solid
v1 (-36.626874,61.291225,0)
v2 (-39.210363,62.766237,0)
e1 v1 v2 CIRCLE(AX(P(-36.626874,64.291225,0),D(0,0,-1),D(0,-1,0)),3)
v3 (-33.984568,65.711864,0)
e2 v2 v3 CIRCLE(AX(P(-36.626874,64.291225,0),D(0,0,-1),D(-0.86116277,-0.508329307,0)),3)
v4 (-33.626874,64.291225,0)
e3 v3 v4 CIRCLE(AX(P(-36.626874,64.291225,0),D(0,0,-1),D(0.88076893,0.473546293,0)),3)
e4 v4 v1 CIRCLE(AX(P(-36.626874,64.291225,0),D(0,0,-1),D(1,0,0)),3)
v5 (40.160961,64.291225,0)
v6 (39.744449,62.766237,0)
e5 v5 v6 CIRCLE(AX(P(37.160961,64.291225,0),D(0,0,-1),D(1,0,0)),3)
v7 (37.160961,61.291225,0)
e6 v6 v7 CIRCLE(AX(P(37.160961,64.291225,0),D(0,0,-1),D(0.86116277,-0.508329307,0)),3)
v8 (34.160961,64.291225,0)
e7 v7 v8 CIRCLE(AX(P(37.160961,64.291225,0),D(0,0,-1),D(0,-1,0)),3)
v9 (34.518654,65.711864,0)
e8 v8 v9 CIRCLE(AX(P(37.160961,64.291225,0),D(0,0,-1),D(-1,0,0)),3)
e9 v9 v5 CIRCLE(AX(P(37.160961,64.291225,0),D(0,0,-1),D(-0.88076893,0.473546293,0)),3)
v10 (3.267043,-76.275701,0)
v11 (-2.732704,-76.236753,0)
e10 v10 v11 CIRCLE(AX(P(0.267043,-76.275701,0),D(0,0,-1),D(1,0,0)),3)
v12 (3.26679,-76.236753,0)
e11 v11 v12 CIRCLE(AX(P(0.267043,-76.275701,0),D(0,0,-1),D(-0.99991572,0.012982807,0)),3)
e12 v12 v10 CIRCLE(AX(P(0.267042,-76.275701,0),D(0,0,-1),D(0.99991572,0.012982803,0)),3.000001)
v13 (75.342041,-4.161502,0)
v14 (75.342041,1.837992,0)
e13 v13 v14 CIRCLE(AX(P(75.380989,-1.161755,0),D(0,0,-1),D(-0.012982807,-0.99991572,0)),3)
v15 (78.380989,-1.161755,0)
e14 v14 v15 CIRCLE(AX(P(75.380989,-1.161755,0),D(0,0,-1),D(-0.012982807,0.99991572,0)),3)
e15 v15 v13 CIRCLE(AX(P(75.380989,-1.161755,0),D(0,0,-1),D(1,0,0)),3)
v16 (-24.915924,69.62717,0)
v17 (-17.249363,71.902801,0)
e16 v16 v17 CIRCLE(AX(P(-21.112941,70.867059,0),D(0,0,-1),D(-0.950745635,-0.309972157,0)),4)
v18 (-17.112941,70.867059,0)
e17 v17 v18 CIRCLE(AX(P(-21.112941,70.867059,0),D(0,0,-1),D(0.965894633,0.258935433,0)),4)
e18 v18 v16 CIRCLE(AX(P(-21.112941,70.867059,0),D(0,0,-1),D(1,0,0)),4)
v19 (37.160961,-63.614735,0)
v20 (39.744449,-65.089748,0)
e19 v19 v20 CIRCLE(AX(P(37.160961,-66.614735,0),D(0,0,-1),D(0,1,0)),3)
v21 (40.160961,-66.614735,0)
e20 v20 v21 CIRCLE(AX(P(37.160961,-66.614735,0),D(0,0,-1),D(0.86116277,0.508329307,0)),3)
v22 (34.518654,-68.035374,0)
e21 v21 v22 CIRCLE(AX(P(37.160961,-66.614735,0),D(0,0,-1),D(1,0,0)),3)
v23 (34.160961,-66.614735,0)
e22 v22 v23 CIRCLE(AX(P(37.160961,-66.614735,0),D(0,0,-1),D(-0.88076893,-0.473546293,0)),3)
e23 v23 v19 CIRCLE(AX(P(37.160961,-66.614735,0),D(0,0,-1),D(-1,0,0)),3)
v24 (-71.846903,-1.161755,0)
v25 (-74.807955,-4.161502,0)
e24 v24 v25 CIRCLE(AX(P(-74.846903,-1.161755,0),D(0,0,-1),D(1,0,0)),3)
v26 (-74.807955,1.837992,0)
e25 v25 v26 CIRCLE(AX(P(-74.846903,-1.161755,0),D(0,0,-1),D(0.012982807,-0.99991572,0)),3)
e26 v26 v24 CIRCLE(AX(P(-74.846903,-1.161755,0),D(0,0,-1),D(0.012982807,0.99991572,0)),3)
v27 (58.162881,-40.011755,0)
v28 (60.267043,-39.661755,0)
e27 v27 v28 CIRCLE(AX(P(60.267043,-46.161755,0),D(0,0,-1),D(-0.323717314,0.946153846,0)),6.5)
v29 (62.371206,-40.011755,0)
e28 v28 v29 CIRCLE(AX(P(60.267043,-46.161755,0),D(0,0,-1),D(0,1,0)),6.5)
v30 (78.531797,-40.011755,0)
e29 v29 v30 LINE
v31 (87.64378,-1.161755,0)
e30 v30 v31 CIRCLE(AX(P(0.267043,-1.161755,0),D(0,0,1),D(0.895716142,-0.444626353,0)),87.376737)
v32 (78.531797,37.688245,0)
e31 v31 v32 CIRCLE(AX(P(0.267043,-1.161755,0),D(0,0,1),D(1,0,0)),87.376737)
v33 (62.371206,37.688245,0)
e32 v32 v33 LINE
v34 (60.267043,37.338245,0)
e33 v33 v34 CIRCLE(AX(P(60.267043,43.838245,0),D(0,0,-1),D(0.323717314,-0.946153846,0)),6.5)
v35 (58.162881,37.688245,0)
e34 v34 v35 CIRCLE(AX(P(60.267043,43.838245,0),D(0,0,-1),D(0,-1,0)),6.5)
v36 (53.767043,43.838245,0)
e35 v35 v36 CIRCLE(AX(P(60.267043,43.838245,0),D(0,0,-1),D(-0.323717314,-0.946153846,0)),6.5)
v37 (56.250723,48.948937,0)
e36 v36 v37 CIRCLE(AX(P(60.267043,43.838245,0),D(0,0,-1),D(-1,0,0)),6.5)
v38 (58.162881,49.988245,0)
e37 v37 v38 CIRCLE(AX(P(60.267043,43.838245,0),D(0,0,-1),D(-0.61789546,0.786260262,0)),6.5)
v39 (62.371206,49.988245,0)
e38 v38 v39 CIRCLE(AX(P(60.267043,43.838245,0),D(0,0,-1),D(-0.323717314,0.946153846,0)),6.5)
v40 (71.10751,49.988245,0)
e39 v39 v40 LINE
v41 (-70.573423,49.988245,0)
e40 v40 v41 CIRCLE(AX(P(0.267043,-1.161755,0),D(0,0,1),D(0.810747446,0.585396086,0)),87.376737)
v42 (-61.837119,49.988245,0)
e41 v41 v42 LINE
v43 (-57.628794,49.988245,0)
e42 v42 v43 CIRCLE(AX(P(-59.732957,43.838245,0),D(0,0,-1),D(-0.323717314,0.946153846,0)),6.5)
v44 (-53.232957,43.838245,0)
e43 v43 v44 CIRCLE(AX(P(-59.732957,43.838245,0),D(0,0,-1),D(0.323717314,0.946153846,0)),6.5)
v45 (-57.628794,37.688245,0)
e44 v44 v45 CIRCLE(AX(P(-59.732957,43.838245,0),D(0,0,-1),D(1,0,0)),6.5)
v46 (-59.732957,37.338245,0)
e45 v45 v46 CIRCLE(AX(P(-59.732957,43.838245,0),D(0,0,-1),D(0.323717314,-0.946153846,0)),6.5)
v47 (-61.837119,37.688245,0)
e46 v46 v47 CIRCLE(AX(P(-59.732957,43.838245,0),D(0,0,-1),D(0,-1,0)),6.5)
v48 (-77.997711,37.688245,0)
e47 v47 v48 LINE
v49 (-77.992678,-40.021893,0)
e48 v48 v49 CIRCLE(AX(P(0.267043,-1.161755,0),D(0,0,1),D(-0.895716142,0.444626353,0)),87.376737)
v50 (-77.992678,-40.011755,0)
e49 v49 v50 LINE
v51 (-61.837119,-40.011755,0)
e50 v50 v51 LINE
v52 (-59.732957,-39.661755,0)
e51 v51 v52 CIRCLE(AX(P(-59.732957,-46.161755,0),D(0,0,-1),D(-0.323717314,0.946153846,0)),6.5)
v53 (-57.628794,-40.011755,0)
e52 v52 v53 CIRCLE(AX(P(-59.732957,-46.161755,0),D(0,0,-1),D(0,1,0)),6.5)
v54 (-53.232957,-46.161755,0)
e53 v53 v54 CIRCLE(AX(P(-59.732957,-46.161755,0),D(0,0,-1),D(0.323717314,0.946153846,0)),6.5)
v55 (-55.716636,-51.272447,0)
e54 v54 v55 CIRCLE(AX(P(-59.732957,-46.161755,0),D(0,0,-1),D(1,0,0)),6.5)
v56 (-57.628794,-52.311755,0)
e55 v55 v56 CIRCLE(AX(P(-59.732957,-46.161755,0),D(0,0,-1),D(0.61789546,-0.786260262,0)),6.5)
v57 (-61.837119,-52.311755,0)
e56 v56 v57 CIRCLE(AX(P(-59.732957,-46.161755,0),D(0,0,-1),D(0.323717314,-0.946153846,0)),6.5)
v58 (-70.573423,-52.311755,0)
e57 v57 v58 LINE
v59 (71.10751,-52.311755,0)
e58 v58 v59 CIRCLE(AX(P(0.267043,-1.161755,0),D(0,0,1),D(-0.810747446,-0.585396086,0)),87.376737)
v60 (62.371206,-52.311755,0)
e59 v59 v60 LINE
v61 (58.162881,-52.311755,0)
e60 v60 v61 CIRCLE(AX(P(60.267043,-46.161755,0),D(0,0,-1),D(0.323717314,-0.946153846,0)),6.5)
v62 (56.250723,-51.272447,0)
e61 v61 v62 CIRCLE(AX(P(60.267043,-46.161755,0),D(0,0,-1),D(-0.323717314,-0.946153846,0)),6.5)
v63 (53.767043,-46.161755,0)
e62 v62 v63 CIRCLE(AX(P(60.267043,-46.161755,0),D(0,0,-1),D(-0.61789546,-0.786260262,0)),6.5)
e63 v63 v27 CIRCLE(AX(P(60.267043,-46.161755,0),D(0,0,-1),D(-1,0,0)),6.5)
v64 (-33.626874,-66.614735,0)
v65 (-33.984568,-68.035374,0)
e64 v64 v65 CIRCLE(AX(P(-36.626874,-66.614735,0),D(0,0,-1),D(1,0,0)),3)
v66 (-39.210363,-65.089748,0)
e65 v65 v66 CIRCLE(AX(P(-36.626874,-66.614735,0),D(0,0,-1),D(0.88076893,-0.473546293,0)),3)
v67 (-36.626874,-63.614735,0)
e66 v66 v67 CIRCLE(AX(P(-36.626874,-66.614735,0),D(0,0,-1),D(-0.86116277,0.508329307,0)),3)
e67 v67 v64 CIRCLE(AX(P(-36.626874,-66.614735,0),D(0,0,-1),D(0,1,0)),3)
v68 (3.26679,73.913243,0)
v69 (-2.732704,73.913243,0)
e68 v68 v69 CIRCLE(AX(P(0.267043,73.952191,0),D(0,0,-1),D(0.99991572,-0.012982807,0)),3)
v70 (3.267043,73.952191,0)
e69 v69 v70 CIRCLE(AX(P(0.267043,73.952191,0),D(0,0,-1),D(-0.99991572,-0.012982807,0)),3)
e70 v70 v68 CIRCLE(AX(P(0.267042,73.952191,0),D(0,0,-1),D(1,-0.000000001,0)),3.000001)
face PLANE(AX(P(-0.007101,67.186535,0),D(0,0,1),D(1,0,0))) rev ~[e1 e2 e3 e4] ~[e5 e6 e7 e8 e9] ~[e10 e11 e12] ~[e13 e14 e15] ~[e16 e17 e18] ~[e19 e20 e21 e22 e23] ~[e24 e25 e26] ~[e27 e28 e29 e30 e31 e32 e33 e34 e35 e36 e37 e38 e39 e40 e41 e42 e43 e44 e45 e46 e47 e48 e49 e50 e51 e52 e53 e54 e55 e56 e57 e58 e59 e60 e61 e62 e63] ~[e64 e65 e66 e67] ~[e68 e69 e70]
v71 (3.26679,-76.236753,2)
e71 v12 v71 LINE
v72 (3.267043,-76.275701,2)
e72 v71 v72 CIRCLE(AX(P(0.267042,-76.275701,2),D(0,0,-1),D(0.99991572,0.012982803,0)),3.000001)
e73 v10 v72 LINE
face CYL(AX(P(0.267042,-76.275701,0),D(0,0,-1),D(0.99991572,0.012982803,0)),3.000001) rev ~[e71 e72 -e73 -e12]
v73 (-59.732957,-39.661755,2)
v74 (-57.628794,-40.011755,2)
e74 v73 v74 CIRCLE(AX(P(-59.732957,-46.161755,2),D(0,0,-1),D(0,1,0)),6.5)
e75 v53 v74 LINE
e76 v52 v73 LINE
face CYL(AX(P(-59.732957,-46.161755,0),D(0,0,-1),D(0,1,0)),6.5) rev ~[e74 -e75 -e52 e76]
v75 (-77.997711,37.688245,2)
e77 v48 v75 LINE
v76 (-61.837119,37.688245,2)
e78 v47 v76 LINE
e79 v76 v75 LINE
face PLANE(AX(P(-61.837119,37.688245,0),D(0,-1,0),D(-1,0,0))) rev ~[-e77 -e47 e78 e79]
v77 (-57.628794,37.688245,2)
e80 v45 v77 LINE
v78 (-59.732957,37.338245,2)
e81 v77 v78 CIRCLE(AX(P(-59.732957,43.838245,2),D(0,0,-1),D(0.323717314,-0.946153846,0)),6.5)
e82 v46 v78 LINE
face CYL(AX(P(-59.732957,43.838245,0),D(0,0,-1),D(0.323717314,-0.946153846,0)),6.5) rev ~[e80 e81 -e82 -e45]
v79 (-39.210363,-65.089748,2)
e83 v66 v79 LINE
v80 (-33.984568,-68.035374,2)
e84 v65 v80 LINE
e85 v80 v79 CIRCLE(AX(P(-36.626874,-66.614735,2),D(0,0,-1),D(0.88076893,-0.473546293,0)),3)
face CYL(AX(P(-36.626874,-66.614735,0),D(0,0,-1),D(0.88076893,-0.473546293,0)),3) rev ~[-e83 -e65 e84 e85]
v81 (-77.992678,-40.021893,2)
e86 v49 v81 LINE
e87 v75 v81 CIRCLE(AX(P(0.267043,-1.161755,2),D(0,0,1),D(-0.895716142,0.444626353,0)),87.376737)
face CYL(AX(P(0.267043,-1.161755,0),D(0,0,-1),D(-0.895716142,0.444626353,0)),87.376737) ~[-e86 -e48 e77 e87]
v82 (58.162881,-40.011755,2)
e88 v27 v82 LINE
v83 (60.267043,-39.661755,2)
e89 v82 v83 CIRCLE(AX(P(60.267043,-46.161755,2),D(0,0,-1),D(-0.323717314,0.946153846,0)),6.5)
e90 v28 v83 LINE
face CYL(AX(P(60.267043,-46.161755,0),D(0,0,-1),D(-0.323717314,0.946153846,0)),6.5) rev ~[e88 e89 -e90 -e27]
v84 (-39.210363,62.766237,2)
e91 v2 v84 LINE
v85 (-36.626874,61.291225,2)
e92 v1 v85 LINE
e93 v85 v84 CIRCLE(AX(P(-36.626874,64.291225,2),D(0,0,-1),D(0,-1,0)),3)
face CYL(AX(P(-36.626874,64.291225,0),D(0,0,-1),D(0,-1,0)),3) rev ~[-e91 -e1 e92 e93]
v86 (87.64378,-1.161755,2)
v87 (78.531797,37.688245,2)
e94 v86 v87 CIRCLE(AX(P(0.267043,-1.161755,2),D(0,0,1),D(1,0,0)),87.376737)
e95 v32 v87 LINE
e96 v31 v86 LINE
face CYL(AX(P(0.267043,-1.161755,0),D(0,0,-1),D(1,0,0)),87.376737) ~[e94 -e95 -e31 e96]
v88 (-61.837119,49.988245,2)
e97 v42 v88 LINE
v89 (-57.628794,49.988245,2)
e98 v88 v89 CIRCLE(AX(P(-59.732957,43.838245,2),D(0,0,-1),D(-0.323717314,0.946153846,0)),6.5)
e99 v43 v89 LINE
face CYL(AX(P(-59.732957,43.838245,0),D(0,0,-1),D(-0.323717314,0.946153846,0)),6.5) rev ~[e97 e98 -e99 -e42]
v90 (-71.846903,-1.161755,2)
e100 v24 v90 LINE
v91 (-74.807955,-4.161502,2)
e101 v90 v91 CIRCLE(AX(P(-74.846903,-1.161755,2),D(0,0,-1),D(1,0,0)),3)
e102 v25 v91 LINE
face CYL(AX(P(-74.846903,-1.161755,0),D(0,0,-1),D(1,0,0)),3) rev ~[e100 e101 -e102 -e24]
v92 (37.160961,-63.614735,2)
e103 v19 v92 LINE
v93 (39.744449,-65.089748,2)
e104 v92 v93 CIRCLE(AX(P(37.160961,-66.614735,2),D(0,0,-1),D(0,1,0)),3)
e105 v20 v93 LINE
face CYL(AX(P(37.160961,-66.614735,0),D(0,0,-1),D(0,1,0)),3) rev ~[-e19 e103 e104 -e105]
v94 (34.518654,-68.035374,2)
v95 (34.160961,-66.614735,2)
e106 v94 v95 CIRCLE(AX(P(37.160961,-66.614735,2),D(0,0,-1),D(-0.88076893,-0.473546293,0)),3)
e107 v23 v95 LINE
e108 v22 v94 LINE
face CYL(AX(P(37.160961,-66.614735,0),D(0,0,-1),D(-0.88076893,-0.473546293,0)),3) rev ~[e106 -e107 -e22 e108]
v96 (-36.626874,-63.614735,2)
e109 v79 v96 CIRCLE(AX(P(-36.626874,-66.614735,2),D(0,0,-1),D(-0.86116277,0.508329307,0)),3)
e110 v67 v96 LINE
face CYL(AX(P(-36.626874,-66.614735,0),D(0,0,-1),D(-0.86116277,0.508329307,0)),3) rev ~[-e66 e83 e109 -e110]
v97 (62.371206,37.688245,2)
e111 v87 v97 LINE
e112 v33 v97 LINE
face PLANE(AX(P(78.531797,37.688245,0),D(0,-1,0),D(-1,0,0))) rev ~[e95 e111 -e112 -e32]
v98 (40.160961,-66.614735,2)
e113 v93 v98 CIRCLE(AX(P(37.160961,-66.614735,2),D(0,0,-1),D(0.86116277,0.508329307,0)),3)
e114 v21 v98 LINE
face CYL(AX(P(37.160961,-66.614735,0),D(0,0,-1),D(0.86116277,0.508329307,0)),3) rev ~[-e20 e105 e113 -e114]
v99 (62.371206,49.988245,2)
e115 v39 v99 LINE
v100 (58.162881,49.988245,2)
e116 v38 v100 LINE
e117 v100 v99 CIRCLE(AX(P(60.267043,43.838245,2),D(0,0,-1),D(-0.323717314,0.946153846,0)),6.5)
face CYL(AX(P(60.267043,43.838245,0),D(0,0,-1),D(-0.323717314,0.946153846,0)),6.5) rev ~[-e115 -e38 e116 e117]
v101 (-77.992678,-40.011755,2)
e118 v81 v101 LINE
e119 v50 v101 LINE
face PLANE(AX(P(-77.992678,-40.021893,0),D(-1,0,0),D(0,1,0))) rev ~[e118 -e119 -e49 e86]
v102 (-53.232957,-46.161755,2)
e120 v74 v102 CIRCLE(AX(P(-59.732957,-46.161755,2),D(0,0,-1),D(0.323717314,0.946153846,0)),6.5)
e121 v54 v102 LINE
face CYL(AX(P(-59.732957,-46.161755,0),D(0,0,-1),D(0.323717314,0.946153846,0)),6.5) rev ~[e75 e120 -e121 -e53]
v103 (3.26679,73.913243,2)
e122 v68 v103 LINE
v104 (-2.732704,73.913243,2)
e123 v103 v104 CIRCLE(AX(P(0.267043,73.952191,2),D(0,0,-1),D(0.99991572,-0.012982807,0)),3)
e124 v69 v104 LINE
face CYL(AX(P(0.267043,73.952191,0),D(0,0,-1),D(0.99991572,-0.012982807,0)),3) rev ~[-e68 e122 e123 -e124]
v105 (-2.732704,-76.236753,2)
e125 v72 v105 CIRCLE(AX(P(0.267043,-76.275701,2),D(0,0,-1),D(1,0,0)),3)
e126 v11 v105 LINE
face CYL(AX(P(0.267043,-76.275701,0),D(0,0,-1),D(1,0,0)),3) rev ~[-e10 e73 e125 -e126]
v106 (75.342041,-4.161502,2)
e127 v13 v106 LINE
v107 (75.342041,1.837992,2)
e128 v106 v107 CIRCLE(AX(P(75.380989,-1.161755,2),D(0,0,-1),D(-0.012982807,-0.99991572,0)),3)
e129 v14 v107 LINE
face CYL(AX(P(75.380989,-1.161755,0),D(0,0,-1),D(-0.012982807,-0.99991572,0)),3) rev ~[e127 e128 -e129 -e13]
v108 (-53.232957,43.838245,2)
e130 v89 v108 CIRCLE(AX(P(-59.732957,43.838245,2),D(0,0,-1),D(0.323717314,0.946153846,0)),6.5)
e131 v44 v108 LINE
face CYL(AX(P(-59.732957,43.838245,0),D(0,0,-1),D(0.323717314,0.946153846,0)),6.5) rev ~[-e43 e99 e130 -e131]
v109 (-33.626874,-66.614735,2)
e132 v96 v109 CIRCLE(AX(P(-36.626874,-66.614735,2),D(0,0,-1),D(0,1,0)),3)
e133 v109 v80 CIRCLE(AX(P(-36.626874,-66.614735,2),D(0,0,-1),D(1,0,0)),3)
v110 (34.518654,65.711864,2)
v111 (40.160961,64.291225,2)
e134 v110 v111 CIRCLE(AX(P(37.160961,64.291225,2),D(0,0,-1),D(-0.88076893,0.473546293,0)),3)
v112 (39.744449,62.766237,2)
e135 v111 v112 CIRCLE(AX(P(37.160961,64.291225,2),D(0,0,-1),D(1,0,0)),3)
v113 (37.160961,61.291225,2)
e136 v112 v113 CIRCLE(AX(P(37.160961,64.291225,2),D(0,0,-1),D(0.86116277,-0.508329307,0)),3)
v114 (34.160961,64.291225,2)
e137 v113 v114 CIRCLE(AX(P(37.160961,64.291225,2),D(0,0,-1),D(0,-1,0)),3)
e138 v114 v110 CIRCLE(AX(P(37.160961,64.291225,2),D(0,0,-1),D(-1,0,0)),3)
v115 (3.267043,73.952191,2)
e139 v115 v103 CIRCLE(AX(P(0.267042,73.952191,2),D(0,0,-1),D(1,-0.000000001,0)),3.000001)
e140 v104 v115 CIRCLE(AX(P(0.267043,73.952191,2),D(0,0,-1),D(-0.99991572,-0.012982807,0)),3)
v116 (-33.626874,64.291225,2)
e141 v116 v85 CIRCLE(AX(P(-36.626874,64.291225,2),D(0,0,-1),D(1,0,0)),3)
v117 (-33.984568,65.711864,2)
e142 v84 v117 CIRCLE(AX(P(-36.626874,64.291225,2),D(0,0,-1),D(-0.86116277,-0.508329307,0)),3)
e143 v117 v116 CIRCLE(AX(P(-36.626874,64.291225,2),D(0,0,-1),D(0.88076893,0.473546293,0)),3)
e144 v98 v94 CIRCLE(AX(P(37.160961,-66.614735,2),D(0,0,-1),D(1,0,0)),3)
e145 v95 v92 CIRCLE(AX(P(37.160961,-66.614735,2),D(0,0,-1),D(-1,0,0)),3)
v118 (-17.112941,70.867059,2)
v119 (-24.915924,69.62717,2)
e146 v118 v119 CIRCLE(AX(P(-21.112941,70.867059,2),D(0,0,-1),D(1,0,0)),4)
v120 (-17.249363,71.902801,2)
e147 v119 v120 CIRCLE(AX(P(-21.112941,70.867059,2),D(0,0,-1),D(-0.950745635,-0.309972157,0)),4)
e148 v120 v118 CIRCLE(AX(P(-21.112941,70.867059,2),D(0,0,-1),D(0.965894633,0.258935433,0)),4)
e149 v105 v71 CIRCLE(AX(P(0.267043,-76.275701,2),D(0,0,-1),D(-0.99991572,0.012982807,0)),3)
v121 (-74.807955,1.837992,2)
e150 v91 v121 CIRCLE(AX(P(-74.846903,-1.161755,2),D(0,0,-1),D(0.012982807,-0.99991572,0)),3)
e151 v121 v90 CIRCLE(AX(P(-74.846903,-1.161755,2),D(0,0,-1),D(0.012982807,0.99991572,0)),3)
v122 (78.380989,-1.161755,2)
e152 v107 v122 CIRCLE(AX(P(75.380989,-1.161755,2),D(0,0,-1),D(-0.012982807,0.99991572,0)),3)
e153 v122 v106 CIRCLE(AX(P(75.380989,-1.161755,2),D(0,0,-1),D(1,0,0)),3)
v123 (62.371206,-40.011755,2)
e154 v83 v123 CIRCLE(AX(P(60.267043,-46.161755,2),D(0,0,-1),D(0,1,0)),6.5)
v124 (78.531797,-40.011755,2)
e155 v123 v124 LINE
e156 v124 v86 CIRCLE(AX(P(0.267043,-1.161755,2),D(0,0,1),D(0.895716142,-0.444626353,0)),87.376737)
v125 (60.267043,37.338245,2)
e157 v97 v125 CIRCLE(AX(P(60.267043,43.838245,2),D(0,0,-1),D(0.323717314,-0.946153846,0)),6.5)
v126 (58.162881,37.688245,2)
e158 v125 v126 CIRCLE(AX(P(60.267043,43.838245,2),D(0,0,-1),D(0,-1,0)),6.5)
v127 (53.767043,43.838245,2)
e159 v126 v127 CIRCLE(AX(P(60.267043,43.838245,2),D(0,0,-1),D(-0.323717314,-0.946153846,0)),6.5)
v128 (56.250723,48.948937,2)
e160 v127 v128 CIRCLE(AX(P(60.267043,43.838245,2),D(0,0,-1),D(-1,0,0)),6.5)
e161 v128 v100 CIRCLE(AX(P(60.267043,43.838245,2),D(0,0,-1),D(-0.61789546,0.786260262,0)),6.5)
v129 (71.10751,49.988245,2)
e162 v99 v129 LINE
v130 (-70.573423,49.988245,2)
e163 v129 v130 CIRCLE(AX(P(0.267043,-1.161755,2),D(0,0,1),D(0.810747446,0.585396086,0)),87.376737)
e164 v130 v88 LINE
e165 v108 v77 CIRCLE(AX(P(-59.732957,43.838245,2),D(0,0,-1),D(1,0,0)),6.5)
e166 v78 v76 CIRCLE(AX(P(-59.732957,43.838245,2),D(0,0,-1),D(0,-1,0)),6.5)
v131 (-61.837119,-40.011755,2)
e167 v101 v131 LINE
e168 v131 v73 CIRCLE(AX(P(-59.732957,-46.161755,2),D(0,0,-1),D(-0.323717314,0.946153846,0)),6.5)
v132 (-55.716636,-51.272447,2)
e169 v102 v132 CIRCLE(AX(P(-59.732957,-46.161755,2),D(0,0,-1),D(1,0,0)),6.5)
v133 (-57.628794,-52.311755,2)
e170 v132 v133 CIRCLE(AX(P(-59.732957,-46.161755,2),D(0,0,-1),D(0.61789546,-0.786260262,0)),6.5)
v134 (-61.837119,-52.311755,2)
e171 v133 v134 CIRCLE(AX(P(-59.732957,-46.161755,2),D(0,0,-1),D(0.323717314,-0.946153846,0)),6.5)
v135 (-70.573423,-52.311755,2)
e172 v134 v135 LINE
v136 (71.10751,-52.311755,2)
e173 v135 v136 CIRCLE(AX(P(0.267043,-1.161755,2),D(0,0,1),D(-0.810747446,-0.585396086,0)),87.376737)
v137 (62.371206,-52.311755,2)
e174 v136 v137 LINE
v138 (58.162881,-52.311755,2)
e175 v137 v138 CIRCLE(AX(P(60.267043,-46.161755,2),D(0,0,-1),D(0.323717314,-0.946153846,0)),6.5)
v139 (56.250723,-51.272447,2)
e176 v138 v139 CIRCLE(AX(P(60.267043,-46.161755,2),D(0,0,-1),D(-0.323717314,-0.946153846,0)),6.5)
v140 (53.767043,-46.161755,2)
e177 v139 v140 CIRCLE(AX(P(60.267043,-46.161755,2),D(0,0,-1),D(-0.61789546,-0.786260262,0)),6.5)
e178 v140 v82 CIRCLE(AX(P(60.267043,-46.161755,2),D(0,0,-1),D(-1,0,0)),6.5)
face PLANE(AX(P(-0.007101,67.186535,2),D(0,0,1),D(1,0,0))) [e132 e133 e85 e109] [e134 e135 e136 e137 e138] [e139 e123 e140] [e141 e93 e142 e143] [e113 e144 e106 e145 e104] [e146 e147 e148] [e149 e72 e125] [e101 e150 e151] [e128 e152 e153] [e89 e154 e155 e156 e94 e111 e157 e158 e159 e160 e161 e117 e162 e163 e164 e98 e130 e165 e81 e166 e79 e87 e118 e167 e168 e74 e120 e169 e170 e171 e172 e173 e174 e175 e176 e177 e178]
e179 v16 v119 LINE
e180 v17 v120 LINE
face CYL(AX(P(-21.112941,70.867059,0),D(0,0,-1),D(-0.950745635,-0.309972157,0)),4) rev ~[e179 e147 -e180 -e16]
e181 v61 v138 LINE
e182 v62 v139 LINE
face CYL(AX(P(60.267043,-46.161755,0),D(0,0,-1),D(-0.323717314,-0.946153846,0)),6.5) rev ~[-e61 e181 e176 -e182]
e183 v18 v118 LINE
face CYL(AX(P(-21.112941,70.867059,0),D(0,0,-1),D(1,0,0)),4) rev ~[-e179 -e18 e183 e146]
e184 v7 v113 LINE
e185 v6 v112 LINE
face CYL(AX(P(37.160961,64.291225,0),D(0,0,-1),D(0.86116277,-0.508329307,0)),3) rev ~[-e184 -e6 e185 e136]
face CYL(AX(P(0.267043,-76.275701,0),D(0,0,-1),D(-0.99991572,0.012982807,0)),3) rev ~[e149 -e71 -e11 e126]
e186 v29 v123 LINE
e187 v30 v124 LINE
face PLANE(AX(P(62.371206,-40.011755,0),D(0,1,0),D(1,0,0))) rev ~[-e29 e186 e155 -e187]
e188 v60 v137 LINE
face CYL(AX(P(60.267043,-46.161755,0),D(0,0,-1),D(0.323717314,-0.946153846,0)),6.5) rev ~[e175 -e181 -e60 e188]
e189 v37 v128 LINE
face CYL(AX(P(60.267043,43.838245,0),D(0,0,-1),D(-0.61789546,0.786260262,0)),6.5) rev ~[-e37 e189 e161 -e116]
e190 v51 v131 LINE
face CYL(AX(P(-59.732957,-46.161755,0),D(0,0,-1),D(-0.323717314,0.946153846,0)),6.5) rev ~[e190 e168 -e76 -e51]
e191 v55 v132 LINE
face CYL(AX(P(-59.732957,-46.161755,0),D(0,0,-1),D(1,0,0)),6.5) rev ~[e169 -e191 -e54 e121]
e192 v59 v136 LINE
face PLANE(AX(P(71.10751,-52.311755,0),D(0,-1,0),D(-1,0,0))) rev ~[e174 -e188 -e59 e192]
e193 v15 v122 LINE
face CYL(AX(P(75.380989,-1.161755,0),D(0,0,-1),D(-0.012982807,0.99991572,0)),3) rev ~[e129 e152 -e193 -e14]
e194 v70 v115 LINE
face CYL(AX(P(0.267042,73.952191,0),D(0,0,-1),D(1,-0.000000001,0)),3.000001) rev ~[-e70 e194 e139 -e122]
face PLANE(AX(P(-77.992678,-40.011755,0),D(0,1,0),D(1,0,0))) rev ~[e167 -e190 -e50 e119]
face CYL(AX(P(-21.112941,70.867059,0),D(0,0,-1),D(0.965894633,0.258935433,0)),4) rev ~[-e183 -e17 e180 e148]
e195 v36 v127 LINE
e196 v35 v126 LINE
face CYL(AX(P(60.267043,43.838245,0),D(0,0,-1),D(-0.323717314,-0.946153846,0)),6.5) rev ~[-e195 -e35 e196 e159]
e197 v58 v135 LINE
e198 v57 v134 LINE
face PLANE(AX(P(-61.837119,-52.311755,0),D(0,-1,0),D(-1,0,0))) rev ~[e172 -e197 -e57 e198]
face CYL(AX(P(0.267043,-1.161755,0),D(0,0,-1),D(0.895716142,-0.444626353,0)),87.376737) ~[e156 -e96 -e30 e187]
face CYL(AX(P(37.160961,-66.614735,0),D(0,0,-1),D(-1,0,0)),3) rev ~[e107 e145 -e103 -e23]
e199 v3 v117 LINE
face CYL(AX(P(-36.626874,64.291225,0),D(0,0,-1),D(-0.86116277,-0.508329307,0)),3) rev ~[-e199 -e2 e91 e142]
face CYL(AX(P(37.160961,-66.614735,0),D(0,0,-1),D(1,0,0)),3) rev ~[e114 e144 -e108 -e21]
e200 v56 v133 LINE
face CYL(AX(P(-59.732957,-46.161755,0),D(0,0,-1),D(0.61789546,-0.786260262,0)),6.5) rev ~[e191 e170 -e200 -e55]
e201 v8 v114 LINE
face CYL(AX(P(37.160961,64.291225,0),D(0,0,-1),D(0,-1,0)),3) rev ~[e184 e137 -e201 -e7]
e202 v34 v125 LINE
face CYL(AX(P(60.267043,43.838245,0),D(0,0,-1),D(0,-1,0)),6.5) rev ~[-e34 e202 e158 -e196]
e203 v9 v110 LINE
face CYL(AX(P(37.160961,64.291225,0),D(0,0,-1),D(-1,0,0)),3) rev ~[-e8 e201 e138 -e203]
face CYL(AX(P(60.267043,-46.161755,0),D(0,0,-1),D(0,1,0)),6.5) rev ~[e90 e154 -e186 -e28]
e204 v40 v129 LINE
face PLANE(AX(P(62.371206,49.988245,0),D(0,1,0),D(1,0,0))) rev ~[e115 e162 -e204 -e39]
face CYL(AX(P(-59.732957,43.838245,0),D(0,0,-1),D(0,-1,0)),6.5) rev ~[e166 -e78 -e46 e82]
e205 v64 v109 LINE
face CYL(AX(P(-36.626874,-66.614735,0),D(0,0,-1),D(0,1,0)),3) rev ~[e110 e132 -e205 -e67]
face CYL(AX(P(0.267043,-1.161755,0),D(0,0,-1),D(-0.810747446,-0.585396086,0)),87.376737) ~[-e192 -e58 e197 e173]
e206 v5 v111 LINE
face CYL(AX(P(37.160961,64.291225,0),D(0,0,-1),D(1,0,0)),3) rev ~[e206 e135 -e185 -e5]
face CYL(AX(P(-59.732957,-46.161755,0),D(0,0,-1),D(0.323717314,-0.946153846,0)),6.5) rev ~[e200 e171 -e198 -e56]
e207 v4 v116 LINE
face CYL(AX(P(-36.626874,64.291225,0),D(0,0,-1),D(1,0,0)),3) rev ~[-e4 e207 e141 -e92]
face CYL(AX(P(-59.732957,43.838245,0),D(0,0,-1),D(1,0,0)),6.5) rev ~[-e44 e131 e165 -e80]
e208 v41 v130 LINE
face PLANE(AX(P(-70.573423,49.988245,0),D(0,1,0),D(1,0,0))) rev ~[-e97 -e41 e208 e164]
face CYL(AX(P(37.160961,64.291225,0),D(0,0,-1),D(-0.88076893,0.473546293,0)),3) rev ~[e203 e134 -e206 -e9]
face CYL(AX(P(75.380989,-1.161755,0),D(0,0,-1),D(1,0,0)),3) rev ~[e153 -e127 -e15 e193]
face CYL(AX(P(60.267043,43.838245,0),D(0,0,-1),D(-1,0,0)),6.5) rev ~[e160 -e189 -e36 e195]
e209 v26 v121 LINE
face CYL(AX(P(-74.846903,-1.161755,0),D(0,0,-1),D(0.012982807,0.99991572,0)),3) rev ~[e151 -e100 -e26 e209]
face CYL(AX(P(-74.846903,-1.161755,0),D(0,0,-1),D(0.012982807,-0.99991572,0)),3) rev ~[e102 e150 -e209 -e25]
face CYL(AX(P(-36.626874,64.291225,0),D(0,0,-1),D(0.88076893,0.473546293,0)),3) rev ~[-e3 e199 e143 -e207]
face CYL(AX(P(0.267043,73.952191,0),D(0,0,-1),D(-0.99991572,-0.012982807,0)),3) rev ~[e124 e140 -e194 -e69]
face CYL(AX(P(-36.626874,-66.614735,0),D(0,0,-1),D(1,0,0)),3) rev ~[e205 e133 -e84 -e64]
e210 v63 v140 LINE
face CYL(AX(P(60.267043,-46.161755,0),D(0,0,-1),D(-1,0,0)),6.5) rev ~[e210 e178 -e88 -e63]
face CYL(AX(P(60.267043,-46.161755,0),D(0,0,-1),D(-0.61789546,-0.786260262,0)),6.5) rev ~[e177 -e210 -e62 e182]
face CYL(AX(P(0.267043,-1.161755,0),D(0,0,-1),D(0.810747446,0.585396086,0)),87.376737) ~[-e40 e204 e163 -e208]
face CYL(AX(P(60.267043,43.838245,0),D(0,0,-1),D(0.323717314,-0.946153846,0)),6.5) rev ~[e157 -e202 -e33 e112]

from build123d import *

# Parameters (mm, degrees)
F0_W     = 73.7878350085
F0_H     = 90
F1_DEPTH = 2


with BuildPart() as f1:
    # F0 (on Top) → F1 (new body)
    with BuildSketch(Plane.XY):
        with BuildLine():
            ThreePointArc((39.7444489138, 62.7662374325), (48.4949826486, 56.4517818988), (56.25072261, 48.9489366399))
            ThreePointArc((56.25072261, 48.9489366399), (57.1629943627, 49.5491889391), (58.1628805597, 49.9882449339))
            ThreePointArc((58.1628805597, 49.9882449339), (60.2670431009, 50.3382449339), (62.3712056422, 49.9882449339))
            Line((62.3712056422, 49.9882449339), (71.1075096636, 49.9882449339))
            ThreePointArc((71.1075096636, 49.9882449339), (0.2670431009, 86.2149821287), (-70.5734234617, 49.9882449339))
            Line((-70.5734234617, 49.9882449339), (-61.8371194403, 49.9882449339))
            ThreePointArc((-61.8371194403, 49.9882449339), (-59.7329568991, 50.3382449339), (-57.6287943578, 49.9882449339))
            ThreePointArc((-57.6287943578, 49.9882449339), (-56.6289081608, 49.5491889391), (-55.7166364081, 48.9489366399))
            ThreePointArc((-55.7166364081, 48.9489366399), (-47.9608964467, 56.4517818988), (-39.210362712, 62.7662374325))
            ThreePointArc((-39.210362712, 62.7662374325), (-38.0999813971, 66.9046437634), (-33.9845676129, 65.7118642328))
            ThreePointArc((-33.9845676129, 65.7118642328), (-29.5146570092, 67.8187069008), (-24.9159238599, 69.6271704072))
            ThreePointArc((-24.9159238599, 69.6271704072), (-22.2511598208, 74.7016983457), (-17.2493627904, 71.9028007682))
            ThreePointArc((-17.2493627904, 71.9028007682), (-10.040168129, 73.2628053376), (-2.7327040585, 73.9132428466))
            ThreePointArc((-2.7327040585, 73.9132428466), (0.2475684804, 76.9521280563), (3.2670431009, 73.9521912671))
            ThreePointArc((3.2670431009, 73.9521912671), (3.2669798901, 73.9327166465), (3.2667902604, 73.9132428466))
            ThreePointArc((3.2667902604, 73.9132428466), (19.3387910188, 71.5123271502), (34.5186538148, 65.7118642328))
            ThreePointArc((34.5186538148, 65.7118642328), (37.8934493863, 67.2004280253), (40.1609606052, 64.2912253535))
            ThreePointArc((40.1609606052, 64.2912253535), (40.0549599941, 63.5008029746), (39.7444489138, 62.7662374325))
        make_face()
        with BuildLine():
            Line((-33.6268744033, 64.2912253535), (34.1609606052, 64.2912253535))
            ThreePointArc((34.1609606052, 64.2912253535), (34.2517579334, 65.0237141345), (34.5186538148, 65.7118642328))
            ThreePointArc((34.5186538148, 65.7118642328), (19.3387910188, 71.5123271502), (3.2667902604, 73.9132428466))
            ThreePointArc((3.2667902604, 73.9132428466), (0.2670431009, 70.9521912671), (-2.7327040585, 73.9132428466))
            ThreePointArc((-2.7327040585, 73.9132428466), (-10.040168129, 73.2628053376), (-17.2493627904, 71.9028007682))
            ThreePointArc((-17.2493627904, 71.9028007682), (-17.1471933384, 71.3894027327), (-17.1129413209, 70.8670590345))
            ThreePointArc((-17.1129413209, 70.8670590345), (-20.4852193108, 66.9166204414), (-24.9159238599, 69.6271704072))
            ThreePointArc((-24.9159238599, 69.6271704072), (-29.5146570092, 67.8187069008), (-33.9845676129, 65.7118642328))
            ThreePointArc((-33.9845676129, 65.7118642328), (-33.7176717315, 65.0237141345), (-33.6268744033, 64.2912253535))
        make_face()
        with BuildLine():
            Line((-36.6268744033, 43.8382449339), (37.1609606052, 43.8382449339))
            Line((37.1609606052, 43.8382449339), (37.1609606052, 49.2871185703))
            ThreePointArc((37.1609606052, 49.2871185703), (0.2670431009, 61.3382449339), (-36.6268744033, 49.2871185703))
            Line((-36.6268744033, 49.2871185703), (-36.6268744033, 43.8382449339))
        make_face()
        with Locations((0.2670431009, -1.1617550661)):
            Rectangle(F0_W, F0_H)
        with BuildLine():
            ThreePointArc((-36.6268744033, 49.2871185703), (0.2670431009, 61.3382449339), (37.1609606052, 49.2871185703))
            Line((37.1609606052, 49.2871185703), (37.1609606052, 61.2912253535))
            ThreePointArc((37.1609606052, 61.2912253535), (35.0396402617, 62.1699050099), (34.1609606052, 64.2912253535))
            Line((34.1609606052, 64.2912253535), (-33.6268744033, 64.2912253535))
            ThreePointArc((-33.6268744033, 64.2912253535), (-34.5055540598, 62.1699050099), (-36.6268744033, 61.2912253535))
            Line((-36.6268744033, 61.2912253535), (-36.6268744033, 49.2871185703))
        make_face()
        with BuildLine():
            ThreePointArc((-43.1063358313, 43.8382449339), (-39.9589718059, 46.6725184699), (-36.6268744033, 49.2871185703))
            Line((-36.6268744033, 49.2871185703), (-36.6268744033, 61.2912253535))
            ThreePointArc((-36.6268744033, 61.2912253535), (-38.1143279719, 61.6859457367), (-39.210362712, 62.7662374325))
            ThreePointArc((-39.210362712, 62.7662374325), (-47.9608964467, 56.4517818988), (-55.7166364081, 48.9489366399))
            ThreePointArc((-55.7166364081, 48.9489366399), (-53.8867579976, 46.6793641507), (-53.2329568991, 43.8382449339))
            Line((-53.2329568991, 43.8382449339), (-43.1063358313, 43.8382449339))
        make_face()
        with BuildLine():
            Line((-43.1063358313, 43.8382449339), (-36.6268744033, 43.8382449339))
            Line((-36.6268744033, 43.8382449339), (-36.6268744033, 49.2871185703))
            ThreePointArc((-36.6268744033, 49.2871185703), (-39.9589718059, 46.6725184699), (-43.1063358313, 43.8382449339))
        make_face()
        with BuildLine():
            Line((-36.6268744033, -46.1617550661), (-36.6268744033, 43.8382449339))
            Line((-36.6268744033, 43.8382449339), (-43.1063358313, 43.8382449339))
            ThreePointArc((-43.1063358313, 43.8382449339), (-53.217313191, 31.1751222109), (-59.7329568991, 16.3382449339))
            Line((-59.7329568991, 16.3382449339), (-59.7329568991, -18.6617550661))
            ThreePointArc((-59.7329568991, -18.6617550661), (-53.217313191, -33.4986323432), (-43.1063358313, -46.1617550661))
            Line((-43.1063358313, -46.1617550661), (-36.6268744033, -46.1617550661))
        make_face()
        with BuildLine():
            ThreePointArc((-59.7329568991, 16.3382449339), (-53.217313191, 31.1751222109), (-43.1063358313, 43.8382449339))
            Line((-43.1063358313, 43.8382449339), (-53.2329568991, 43.8382449339))
            ThreePointArc((-53.2329568991, 43.8382449339), (-54.4449016555, 40.0585000032), (-57.6287943578, 37.6882449339))
            ThreePointArc((-57.6287943578, 37.6882449339), (-58.6664204487, 37.4263419402), (-59.7329568991, 37.3382449339))
            Line((-59.7329568991, 37.3382449339), (-59.7329568991, 16.3382449339))
        make_face()
        with BuildLine():
            ThreePointArc((-59.7329568991, -18.6617550661), (-62.2329568991, -1.1617550661), (-59.7329568991, 16.3382449339))
            Line((-59.7329568991, 16.3382449339), (-59.7329568991, 37.3382449339))
            ThreePointArc((-59.7329568991, 37.3382449339), (-60.7994933494, 37.4263419402), (-61.8371194403, 37.6882449339))
            Line((-61.8371194403, 37.6882449339), (-64.0441635012, 37.6882449339))
            ThreePointArc((-64.0441635012, 37.6882449339), (-71.6943261151, 20.4441500334), (-74.8079548118, 1.8379920933))
            ThreePointArc((-74.8079548118, 1.8379920933), (-72.7118569492, 0.9457499444), (-71.8469032323, -1.1617550661))
            ThreePointArc((-71.8469032323, -1.1617550661), (-72.7118569492, -3.2692600767), (-74.8079548118, -4.1615022256))
            ThreePointArc((-74.8079548118, -4.1615022256), (-71.6943261151, -22.7676601657), (-64.0441635012, -40.0117550661))
            Line((-64.0441635012, -40.0117550661), (-61.8371194403, -40.0117550661))
            ThreePointArc((-61.8371194403, -40.0117550661), (-60.7994933494, -39.7498520725), (-59.7329568991, -39.6617550661))
            Line((-59.7329568991, -39.6617550661), (-59.7329568991, -18.6617550661))
        make_face()
        with BuildLine():
            Line((-64.0441635012, 37.6882449339), (-77.9977107977, 37.6882449339))
            ThreePointArc((-77.9977107977, 37.6882449339), (-87.1096939106, -1.1674142446), (-77.9926777014, -40.0218927752))
            Line((-77.9926777014, -40.0218927752), (-77.9926777014, -40.0117550661))
            Line((-77.9926777014, -40.0117550661), (-64.0441635012, -40.0117550661))
            ThreePointArc((-64.0441635012, -40.0117550661), (-71.6943261151, -22.7676601657), (-74.8079548118, -4.1615022256))
            ThreePointArc((-74.8079548118, -4.1615022256), (-77.8469032323, -1.1617550661), (-74.8079548118, 1.8379920933))
            ThreePointArc((-74.8079548118, 1.8379920933), (-71.6943261151, 20.4441500334), (-64.0441635012, 37.6882449339))
        make_face()
        with BuildLine():
            Line((-59.7329568991, -18.6617550661), (-59.7329568991, 16.3382449339))
            ThreePointArc((-59.7329568991, 16.3382449339), (-62.2329568991, -1.1617550661), (-59.7329568991, -18.6617550661))
        make_face()
        with BuildLine():
            ThreePointArc((60.2670431009, 16.3382449339), (53.7513993929, 31.1751222109), (43.6404220332, 43.8382449339))
            Line((43.6404220332, 43.8382449339), (37.1609606052, 43.8382449339))
            Line((37.1609606052, 43.8382449339), (37.1609606052, -46.1617550661))
            Line((37.1609606052, -46.1617550661), (43.6404220332, -46.1617550661))
            ThreePointArc((43.6404220332, -46.1617550661), (53.7513993929, -33.4986323432), (60.2670431009, -18.6617550661))
            Line((60.2670431009, -18.6617550661), (60.2670431009, 16.3382449339))
        make_face()
        with BuildLine():
            Line((37.1609606052, 43.8382449339), (43.6404220332, 43.8382449339))
            ThreePointArc((43.6404220332, 43.8382449339), (40.4930580078, 46.6725184699), (37.1609606052, 49.2871185703))
            Line((37.1609606052, 49.2871185703), (37.1609606052, 43.8382449339))
        make_face()
        with BuildLine():
            Line((43.6404220332, 43.8382449339), (53.7670431009, 43.8382449339))
            ThreePointArc((53.7670431009, 43.8382449339), (54.4208441995, 46.6793641507), (56.25072261, 48.9489366399))
            ThreePointArc((56.25072261, 48.9489366399), (48.4949826486, 56.4517818988), (39.7444489138, 62.7662374325))
            ThreePointArc((39.7444489138, 62.7662374325), (38.6484141737, 61.6859457367), (37.1609606052, 61.2912253535))
            Line((37.1609606052, 61.2912253535), (37.1609606052, 49.2871185703))
            ThreePointArc((37.1609606052, 49.2871185703), (40.4930580078, 46.6725184699), (43.6404220332, 43.8382449339))
        make_face()
        with BuildLine():
            ThreePointArc((58.1628805597, 37.6882449339), (54.9789878574, 40.0585000032), (53.7670431009, 43.8382449339))
            Line((53.7670431009, 43.8382449339), (43.6404220332, 43.8382449339))
            ThreePointArc((43.6404220332, 43.8382449339), (53.7513993929, 31.1751222109), (60.2670431009, 16.3382449339))
            Line((60.2670431009, 16.3382449339), (60.2670431009, 37.3382449339))
            ThreePointArc((60.2670431009, 37.3382449339), (59.2005066506, 37.4263419402), (58.1628805597, 37.6882449339))
        make_face()
        with BuildLine():
            ThreePointArc((62.3712056422, 37.6882449339), (61.3335795513, 37.4263419402), (60.2670431009, 37.3382449339))
            Line((60.2670431009, 37.3382449339), (60.2670431009, 16.3382449339))
            ThreePointArc((60.2670431009, 16.3382449339), (62.1388864548, 7.6770796987), (62.7670431009, -1.1617550661))
            ThreePointArc((62.7670431009, -1.1617550661), (62.1388864548, -10.000589831), (60.2670431009, -18.6617550661))
            Line((60.2670431009, -18.6617550661), (60.2670431009, -39.6617550661))
            ThreePointArc((60.2670431009, -39.6617550661), (61.3335795513, -39.7498520725), (62.3712056422, -40.0117550661))
            Line((62.3712056422, -40.0117550661), (64.5782497031, -40.0117550661))
            ThreePointArc((64.5782497031, -40.0117550661), (72.228412317, -22.7676601657), (75.3420410137, -4.1615022256))
            ThreePointArc((75.3420410137, -4.1615022256), (72.3809894341, -1.1617550661), (75.3420410137, 1.8379920933))
            ThreePointArc((75.3420410137, 1.8379920933), (72.228412317, 20.4441500334), (64.5782497031, 37.6882449339))
            Line((64.5782497031, 37.6882449339), (62.3712056422, 37.6882449339))
        make_face()
        with BuildLine():
            Line((78.5317969996, 37.6882449339), (64.5782497031, 37.6882449339))
            ThreePointArc((64.5782497031, 37.6882449339), (72.228412317, 20.4441500334), (75.3420410137, 1.8379920933))
            ThreePointArc((75.3420410137, 1.8379920933), (77.4884944447, 0.9732912169), (78.3809894341, -1.1617550661))
            ThreePointArc((78.3809894341, -1.1617550661), (77.4884944447, -3.2968013492), (75.3420410137, -4.1615022256))
            ThreePointArc((75.3420410137, -4.1615022256), (72.228412317, -22.7676601657), (64.5782497031, -40.0117550661))
            Line((64.5782497031, -40.0117550661), (78.5317969996, -40.0117550661))
            ThreePointArc((78.5317969996, -40.0117550661), (85.3352893384, -21.1138899118), (87.6437802958, -1.1617550661))
            ThreePointArc((87.6437802958, -1.1617550661), (85.3352893384, 18.7903797795), (78.5317969996, 37.6882449339))
        make_face()
        with BuildLine():
            ThreePointArc((62.7670431009, -1.1617550661), (62.1388864548, 7.6770796987), (60.2670431009, 16.3382449339))
            Line((60.2670431009, 16.3382449339), (60.2670431009, -18.6617550661))
            ThreePointArc((60.2670431009, -18.6617550661), (62.1388864548, -10.000589831), (62.7670431009, -1.1617550661))
        make_face()
        with BuildLine():
            ThreePointArc((58.1628805597, -52.3117550661), (57.1629943627, -51.8726990713), (56.25072261, -51.2724467721))
            ThreePointArc((56.25072261, -51.2724467721), (48.4949826486, -58.7752920311), (39.7444489138, -65.0897475648))
            ThreePointArc((39.7444489138, -65.0897475648), (40.0549599941, -65.8243131069), (40.1609606052, -66.6147354858))
            ThreePointArc((40.1609606052, -66.6147354858), (37.8934493863, -69.5239381576), (34.5186538148, -68.035374365))
            ThreePointArc((34.5186538148, -68.035374365), (19.3387910188, -73.8358372824), (3.2667902604, -76.2367529789))
            ThreePointArc((3.2667902604, -76.2367529789), (3.2669798901, -76.2562267788), (3.2670431009, -76.2757013993))
            ThreePointArc((3.2670431009, -76.2757013993), (0.2475684804, -79.2756381885), (-2.7327040585, -76.2367529789))
            ThreePointArc((-2.7327040585, -76.2367529789), (-18.8047048169, -73.8358372824), (-33.9845676129, -68.035374365))
            ThreePointArc((-33.9845676129, -68.035374365), (-38.0999813971, -69.2281538956), (-39.210362712, -65.0897475648))
            ThreePointArc((-39.210362712, -65.0897475648), (-47.9608964467, -58.7752920311), (-55.7166364081, -51.2724467721))
            ThreePointArc((-55.7166364081, -51.2724467721), (-56.6289081608, -51.8726990713), (-57.6287943578, -52.3117550661))
            ThreePointArc((-57.6287943578, -52.3117550661), (-59.7329568991, -52.6617550661), (-61.8371194403, -52.3117550661))
            Line((-61.8371194403, -52.3117550661), (-70.5734234617, -52.3117550661))
            ThreePointArc((-70.5734234617, -52.3117550661), (0.2670431009, -88.538492261), (71.1075096636, -52.3117550661))
            Line((71.1075096636, -52.3117550661), (62.3712056422, -52.3117550661))
            ThreePointArc((62.3712056422, -52.3117550661), (60.2670431009, -52.6617550661), (58.1628805597, -52.3117550661))
        make_face()
        with BuildLine():
            ThreePointArc((34.5186538148, -68.035374365), (34.2517579334, -67.3472242668), (34.1609606052, -66.6147354858))
            Line((34.1609606052, -66.6147354858), (-33.6268744033, -66.6147354858))
            ThreePointArc((-33.6268744033, -66.6147354858), (-33.7176717315, -67.3472242668), (-33.9845676129, -68.035374365))
            ThreePointArc((-33.9845676129, -68.035374365), (-18.8047048169, -73.8358372824), (-2.7327040585, -76.2367529789))
            ThreePointArc((-2.7327040585, -76.2367529789), (0.2670431009, -73.2757013993), (3.2667902604, -76.2367529789))
            ThreePointArc((3.2667902604, -76.2367529789), (19.3387910188, -73.8358372824), (34.5186538148, -68.035374365))
        make_face()
        with BuildLine():
            Line((37.1609606052, -63.6147354858), (37.1609606052, -51.6106287026))
            ThreePointArc((37.1609606052, -51.6106287026), (0.2670431009, -63.6617550661), (-36.6268744033, -51.6106287026))
            Line((-36.6268744033, -51.6106287026), (-36.6268744033, -63.6147354858))
            ThreePointArc((-36.6268744033, -63.6147354858), (-34.5055540598, -64.4934151422), (-33.6268744033, -66.6147354858))
            Line((-33.6268744033, -66.6147354858), (34.1609606052, -66.6147354858))
            ThreePointArc((34.1609606052, -66.6147354858), (35.0396402617, -64.4934151422), (37.1609606052, -63.6147354858))
        make_face()
        with BuildLine():
            Line((37.1609606052, -51.6106287026), (37.1609606052, -46.1617550661))
            Line((37.1609606052, -46.1617550661), (-36.6268744033, -46.1617550661))
            Line((-36.6268744033, -46.1617550661), (-36.6268744033, -51.6106287026))
            ThreePointArc((-36.6268744033, -51.6106287026), (0.2670431009, -63.6617550661), (37.1609606052, -51.6106287026))
        make_face()
        with BuildLine():
            Line((43.6404220332, -46.1617550661), (37.1609606052, -46.1617550661))
            Line((37.1609606052, -46.1617550661), (37.1609606052, -51.6106287026))
            ThreePointArc((37.1609606052, -51.6106287026), (40.4930580078, -48.9960286021), (43.6404220332, -46.1617550661))
        make_face()
        with BuildLine():
            Line((-36.6268744033, -51.6106287026), (-36.6268744033, -46.1617550661))
            Line((-36.6268744033, -46.1617550661), (-43.1063358313, -46.1617550661))
            ThreePointArc((-43.1063358313, -46.1617550661), (-39.9589718059, -48.9960286021), (-36.6268744033, -51.6106287026))
        make_face()
        with BuildLine():
            Line((-53.2329568991, -46.1617550661), (-43.1063358313, -46.1617550661))
            ThreePointArc((-43.1063358313, -46.1617550661), (-53.217313191, -33.4986323432), (-59.7329568991, -18.6617550661))
            Line((-59.7329568991, -18.6617550661), (-59.7329568991, -39.6617550661))
            ThreePointArc((-59.7329568991, -39.6617550661), (-58.6664204487, -39.7498520725), (-57.6287943578, -40.0117550661))
            ThreePointArc((-57.6287943578, -40.0117550661), (-54.4449016555, -42.3820101355), (-53.2329568991, -46.1617550661))
        make_face()
        with BuildLine():
            ThreePointArc((-36.6268744033, -51.6106287026), (-39.9589718059, -48.9960286021), (-43.1063358313, -46.1617550661))
            Line((-43.1063358313, -46.1617550661), (-53.2329568991, -46.1617550661))
            ThreePointArc((-53.2329568991, -46.1617550661), (-53.8867579976, -49.002874283), (-55.7166364081, -51.2724467721))
            ThreePointArc((-55.7166364081, -51.2724467721), (-47.9608964467, -58.7752920311), (-39.210362712, -65.0897475648))
            ThreePointArc((-39.210362712, -65.0897475648), (-38.1143279719, -64.009455869), (-36.6268744033, -63.6147354858))
            Line((-36.6268744033, -63.6147354858), (-36.6268744033, -51.6106287026))
        make_face()
        with BuildLine():
            Line((60.2670431009, -39.6617550661), (60.2670431009, -18.6617550661))
            ThreePointArc((60.2670431009, -18.6617550661), (53.7513993929, -33.4986323432), (43.6404220332, -46.1617550661))
            Line((43.6404220332, -46.1617550661), (53.7670431009, -46.1617550661))
            ThreePointArc((53.7670431009, -46.1617550661), (54.9789878574, -42.3820101355), (58.1628805597, -40.0117550661))
            ThreePointArc((58.1628805597, -40.0117550661), (59.2005066506, -39.7498520725), (60.2670431009, -39.6617550661))
        make_face()
        with BuildLine():
            Line((53.7670431009, -46.1617550661), (43.6404220332, -46.1617550661))
            ThreePointArc((43.6404220332, -46.1617550661), (40.4930580078, -48.9960286021), (37.1609606052, -51.6106287026))
            Line((37.1609606052, -51.6106287026), (37.1609606052, -63.6147354858))
            ThreePointArc((37.1609606052, -63.6147354858), (38.6484141737, -64.009455869), (39.7444489138, -65.0897475648))
            ThreePointArc((39.7444489138, -65.0897475648), (48.4949826486, -58.7752920311), (56.25072261, -51.2724467721))
            ThreePointArc((56.25072261, -51.2724467721), (54.4208441995, -49.002874283), (53.7670431009, -46.1617550661))
        make_face()
    extrude(amount=F1_DEPTH)


solid = f1.part
